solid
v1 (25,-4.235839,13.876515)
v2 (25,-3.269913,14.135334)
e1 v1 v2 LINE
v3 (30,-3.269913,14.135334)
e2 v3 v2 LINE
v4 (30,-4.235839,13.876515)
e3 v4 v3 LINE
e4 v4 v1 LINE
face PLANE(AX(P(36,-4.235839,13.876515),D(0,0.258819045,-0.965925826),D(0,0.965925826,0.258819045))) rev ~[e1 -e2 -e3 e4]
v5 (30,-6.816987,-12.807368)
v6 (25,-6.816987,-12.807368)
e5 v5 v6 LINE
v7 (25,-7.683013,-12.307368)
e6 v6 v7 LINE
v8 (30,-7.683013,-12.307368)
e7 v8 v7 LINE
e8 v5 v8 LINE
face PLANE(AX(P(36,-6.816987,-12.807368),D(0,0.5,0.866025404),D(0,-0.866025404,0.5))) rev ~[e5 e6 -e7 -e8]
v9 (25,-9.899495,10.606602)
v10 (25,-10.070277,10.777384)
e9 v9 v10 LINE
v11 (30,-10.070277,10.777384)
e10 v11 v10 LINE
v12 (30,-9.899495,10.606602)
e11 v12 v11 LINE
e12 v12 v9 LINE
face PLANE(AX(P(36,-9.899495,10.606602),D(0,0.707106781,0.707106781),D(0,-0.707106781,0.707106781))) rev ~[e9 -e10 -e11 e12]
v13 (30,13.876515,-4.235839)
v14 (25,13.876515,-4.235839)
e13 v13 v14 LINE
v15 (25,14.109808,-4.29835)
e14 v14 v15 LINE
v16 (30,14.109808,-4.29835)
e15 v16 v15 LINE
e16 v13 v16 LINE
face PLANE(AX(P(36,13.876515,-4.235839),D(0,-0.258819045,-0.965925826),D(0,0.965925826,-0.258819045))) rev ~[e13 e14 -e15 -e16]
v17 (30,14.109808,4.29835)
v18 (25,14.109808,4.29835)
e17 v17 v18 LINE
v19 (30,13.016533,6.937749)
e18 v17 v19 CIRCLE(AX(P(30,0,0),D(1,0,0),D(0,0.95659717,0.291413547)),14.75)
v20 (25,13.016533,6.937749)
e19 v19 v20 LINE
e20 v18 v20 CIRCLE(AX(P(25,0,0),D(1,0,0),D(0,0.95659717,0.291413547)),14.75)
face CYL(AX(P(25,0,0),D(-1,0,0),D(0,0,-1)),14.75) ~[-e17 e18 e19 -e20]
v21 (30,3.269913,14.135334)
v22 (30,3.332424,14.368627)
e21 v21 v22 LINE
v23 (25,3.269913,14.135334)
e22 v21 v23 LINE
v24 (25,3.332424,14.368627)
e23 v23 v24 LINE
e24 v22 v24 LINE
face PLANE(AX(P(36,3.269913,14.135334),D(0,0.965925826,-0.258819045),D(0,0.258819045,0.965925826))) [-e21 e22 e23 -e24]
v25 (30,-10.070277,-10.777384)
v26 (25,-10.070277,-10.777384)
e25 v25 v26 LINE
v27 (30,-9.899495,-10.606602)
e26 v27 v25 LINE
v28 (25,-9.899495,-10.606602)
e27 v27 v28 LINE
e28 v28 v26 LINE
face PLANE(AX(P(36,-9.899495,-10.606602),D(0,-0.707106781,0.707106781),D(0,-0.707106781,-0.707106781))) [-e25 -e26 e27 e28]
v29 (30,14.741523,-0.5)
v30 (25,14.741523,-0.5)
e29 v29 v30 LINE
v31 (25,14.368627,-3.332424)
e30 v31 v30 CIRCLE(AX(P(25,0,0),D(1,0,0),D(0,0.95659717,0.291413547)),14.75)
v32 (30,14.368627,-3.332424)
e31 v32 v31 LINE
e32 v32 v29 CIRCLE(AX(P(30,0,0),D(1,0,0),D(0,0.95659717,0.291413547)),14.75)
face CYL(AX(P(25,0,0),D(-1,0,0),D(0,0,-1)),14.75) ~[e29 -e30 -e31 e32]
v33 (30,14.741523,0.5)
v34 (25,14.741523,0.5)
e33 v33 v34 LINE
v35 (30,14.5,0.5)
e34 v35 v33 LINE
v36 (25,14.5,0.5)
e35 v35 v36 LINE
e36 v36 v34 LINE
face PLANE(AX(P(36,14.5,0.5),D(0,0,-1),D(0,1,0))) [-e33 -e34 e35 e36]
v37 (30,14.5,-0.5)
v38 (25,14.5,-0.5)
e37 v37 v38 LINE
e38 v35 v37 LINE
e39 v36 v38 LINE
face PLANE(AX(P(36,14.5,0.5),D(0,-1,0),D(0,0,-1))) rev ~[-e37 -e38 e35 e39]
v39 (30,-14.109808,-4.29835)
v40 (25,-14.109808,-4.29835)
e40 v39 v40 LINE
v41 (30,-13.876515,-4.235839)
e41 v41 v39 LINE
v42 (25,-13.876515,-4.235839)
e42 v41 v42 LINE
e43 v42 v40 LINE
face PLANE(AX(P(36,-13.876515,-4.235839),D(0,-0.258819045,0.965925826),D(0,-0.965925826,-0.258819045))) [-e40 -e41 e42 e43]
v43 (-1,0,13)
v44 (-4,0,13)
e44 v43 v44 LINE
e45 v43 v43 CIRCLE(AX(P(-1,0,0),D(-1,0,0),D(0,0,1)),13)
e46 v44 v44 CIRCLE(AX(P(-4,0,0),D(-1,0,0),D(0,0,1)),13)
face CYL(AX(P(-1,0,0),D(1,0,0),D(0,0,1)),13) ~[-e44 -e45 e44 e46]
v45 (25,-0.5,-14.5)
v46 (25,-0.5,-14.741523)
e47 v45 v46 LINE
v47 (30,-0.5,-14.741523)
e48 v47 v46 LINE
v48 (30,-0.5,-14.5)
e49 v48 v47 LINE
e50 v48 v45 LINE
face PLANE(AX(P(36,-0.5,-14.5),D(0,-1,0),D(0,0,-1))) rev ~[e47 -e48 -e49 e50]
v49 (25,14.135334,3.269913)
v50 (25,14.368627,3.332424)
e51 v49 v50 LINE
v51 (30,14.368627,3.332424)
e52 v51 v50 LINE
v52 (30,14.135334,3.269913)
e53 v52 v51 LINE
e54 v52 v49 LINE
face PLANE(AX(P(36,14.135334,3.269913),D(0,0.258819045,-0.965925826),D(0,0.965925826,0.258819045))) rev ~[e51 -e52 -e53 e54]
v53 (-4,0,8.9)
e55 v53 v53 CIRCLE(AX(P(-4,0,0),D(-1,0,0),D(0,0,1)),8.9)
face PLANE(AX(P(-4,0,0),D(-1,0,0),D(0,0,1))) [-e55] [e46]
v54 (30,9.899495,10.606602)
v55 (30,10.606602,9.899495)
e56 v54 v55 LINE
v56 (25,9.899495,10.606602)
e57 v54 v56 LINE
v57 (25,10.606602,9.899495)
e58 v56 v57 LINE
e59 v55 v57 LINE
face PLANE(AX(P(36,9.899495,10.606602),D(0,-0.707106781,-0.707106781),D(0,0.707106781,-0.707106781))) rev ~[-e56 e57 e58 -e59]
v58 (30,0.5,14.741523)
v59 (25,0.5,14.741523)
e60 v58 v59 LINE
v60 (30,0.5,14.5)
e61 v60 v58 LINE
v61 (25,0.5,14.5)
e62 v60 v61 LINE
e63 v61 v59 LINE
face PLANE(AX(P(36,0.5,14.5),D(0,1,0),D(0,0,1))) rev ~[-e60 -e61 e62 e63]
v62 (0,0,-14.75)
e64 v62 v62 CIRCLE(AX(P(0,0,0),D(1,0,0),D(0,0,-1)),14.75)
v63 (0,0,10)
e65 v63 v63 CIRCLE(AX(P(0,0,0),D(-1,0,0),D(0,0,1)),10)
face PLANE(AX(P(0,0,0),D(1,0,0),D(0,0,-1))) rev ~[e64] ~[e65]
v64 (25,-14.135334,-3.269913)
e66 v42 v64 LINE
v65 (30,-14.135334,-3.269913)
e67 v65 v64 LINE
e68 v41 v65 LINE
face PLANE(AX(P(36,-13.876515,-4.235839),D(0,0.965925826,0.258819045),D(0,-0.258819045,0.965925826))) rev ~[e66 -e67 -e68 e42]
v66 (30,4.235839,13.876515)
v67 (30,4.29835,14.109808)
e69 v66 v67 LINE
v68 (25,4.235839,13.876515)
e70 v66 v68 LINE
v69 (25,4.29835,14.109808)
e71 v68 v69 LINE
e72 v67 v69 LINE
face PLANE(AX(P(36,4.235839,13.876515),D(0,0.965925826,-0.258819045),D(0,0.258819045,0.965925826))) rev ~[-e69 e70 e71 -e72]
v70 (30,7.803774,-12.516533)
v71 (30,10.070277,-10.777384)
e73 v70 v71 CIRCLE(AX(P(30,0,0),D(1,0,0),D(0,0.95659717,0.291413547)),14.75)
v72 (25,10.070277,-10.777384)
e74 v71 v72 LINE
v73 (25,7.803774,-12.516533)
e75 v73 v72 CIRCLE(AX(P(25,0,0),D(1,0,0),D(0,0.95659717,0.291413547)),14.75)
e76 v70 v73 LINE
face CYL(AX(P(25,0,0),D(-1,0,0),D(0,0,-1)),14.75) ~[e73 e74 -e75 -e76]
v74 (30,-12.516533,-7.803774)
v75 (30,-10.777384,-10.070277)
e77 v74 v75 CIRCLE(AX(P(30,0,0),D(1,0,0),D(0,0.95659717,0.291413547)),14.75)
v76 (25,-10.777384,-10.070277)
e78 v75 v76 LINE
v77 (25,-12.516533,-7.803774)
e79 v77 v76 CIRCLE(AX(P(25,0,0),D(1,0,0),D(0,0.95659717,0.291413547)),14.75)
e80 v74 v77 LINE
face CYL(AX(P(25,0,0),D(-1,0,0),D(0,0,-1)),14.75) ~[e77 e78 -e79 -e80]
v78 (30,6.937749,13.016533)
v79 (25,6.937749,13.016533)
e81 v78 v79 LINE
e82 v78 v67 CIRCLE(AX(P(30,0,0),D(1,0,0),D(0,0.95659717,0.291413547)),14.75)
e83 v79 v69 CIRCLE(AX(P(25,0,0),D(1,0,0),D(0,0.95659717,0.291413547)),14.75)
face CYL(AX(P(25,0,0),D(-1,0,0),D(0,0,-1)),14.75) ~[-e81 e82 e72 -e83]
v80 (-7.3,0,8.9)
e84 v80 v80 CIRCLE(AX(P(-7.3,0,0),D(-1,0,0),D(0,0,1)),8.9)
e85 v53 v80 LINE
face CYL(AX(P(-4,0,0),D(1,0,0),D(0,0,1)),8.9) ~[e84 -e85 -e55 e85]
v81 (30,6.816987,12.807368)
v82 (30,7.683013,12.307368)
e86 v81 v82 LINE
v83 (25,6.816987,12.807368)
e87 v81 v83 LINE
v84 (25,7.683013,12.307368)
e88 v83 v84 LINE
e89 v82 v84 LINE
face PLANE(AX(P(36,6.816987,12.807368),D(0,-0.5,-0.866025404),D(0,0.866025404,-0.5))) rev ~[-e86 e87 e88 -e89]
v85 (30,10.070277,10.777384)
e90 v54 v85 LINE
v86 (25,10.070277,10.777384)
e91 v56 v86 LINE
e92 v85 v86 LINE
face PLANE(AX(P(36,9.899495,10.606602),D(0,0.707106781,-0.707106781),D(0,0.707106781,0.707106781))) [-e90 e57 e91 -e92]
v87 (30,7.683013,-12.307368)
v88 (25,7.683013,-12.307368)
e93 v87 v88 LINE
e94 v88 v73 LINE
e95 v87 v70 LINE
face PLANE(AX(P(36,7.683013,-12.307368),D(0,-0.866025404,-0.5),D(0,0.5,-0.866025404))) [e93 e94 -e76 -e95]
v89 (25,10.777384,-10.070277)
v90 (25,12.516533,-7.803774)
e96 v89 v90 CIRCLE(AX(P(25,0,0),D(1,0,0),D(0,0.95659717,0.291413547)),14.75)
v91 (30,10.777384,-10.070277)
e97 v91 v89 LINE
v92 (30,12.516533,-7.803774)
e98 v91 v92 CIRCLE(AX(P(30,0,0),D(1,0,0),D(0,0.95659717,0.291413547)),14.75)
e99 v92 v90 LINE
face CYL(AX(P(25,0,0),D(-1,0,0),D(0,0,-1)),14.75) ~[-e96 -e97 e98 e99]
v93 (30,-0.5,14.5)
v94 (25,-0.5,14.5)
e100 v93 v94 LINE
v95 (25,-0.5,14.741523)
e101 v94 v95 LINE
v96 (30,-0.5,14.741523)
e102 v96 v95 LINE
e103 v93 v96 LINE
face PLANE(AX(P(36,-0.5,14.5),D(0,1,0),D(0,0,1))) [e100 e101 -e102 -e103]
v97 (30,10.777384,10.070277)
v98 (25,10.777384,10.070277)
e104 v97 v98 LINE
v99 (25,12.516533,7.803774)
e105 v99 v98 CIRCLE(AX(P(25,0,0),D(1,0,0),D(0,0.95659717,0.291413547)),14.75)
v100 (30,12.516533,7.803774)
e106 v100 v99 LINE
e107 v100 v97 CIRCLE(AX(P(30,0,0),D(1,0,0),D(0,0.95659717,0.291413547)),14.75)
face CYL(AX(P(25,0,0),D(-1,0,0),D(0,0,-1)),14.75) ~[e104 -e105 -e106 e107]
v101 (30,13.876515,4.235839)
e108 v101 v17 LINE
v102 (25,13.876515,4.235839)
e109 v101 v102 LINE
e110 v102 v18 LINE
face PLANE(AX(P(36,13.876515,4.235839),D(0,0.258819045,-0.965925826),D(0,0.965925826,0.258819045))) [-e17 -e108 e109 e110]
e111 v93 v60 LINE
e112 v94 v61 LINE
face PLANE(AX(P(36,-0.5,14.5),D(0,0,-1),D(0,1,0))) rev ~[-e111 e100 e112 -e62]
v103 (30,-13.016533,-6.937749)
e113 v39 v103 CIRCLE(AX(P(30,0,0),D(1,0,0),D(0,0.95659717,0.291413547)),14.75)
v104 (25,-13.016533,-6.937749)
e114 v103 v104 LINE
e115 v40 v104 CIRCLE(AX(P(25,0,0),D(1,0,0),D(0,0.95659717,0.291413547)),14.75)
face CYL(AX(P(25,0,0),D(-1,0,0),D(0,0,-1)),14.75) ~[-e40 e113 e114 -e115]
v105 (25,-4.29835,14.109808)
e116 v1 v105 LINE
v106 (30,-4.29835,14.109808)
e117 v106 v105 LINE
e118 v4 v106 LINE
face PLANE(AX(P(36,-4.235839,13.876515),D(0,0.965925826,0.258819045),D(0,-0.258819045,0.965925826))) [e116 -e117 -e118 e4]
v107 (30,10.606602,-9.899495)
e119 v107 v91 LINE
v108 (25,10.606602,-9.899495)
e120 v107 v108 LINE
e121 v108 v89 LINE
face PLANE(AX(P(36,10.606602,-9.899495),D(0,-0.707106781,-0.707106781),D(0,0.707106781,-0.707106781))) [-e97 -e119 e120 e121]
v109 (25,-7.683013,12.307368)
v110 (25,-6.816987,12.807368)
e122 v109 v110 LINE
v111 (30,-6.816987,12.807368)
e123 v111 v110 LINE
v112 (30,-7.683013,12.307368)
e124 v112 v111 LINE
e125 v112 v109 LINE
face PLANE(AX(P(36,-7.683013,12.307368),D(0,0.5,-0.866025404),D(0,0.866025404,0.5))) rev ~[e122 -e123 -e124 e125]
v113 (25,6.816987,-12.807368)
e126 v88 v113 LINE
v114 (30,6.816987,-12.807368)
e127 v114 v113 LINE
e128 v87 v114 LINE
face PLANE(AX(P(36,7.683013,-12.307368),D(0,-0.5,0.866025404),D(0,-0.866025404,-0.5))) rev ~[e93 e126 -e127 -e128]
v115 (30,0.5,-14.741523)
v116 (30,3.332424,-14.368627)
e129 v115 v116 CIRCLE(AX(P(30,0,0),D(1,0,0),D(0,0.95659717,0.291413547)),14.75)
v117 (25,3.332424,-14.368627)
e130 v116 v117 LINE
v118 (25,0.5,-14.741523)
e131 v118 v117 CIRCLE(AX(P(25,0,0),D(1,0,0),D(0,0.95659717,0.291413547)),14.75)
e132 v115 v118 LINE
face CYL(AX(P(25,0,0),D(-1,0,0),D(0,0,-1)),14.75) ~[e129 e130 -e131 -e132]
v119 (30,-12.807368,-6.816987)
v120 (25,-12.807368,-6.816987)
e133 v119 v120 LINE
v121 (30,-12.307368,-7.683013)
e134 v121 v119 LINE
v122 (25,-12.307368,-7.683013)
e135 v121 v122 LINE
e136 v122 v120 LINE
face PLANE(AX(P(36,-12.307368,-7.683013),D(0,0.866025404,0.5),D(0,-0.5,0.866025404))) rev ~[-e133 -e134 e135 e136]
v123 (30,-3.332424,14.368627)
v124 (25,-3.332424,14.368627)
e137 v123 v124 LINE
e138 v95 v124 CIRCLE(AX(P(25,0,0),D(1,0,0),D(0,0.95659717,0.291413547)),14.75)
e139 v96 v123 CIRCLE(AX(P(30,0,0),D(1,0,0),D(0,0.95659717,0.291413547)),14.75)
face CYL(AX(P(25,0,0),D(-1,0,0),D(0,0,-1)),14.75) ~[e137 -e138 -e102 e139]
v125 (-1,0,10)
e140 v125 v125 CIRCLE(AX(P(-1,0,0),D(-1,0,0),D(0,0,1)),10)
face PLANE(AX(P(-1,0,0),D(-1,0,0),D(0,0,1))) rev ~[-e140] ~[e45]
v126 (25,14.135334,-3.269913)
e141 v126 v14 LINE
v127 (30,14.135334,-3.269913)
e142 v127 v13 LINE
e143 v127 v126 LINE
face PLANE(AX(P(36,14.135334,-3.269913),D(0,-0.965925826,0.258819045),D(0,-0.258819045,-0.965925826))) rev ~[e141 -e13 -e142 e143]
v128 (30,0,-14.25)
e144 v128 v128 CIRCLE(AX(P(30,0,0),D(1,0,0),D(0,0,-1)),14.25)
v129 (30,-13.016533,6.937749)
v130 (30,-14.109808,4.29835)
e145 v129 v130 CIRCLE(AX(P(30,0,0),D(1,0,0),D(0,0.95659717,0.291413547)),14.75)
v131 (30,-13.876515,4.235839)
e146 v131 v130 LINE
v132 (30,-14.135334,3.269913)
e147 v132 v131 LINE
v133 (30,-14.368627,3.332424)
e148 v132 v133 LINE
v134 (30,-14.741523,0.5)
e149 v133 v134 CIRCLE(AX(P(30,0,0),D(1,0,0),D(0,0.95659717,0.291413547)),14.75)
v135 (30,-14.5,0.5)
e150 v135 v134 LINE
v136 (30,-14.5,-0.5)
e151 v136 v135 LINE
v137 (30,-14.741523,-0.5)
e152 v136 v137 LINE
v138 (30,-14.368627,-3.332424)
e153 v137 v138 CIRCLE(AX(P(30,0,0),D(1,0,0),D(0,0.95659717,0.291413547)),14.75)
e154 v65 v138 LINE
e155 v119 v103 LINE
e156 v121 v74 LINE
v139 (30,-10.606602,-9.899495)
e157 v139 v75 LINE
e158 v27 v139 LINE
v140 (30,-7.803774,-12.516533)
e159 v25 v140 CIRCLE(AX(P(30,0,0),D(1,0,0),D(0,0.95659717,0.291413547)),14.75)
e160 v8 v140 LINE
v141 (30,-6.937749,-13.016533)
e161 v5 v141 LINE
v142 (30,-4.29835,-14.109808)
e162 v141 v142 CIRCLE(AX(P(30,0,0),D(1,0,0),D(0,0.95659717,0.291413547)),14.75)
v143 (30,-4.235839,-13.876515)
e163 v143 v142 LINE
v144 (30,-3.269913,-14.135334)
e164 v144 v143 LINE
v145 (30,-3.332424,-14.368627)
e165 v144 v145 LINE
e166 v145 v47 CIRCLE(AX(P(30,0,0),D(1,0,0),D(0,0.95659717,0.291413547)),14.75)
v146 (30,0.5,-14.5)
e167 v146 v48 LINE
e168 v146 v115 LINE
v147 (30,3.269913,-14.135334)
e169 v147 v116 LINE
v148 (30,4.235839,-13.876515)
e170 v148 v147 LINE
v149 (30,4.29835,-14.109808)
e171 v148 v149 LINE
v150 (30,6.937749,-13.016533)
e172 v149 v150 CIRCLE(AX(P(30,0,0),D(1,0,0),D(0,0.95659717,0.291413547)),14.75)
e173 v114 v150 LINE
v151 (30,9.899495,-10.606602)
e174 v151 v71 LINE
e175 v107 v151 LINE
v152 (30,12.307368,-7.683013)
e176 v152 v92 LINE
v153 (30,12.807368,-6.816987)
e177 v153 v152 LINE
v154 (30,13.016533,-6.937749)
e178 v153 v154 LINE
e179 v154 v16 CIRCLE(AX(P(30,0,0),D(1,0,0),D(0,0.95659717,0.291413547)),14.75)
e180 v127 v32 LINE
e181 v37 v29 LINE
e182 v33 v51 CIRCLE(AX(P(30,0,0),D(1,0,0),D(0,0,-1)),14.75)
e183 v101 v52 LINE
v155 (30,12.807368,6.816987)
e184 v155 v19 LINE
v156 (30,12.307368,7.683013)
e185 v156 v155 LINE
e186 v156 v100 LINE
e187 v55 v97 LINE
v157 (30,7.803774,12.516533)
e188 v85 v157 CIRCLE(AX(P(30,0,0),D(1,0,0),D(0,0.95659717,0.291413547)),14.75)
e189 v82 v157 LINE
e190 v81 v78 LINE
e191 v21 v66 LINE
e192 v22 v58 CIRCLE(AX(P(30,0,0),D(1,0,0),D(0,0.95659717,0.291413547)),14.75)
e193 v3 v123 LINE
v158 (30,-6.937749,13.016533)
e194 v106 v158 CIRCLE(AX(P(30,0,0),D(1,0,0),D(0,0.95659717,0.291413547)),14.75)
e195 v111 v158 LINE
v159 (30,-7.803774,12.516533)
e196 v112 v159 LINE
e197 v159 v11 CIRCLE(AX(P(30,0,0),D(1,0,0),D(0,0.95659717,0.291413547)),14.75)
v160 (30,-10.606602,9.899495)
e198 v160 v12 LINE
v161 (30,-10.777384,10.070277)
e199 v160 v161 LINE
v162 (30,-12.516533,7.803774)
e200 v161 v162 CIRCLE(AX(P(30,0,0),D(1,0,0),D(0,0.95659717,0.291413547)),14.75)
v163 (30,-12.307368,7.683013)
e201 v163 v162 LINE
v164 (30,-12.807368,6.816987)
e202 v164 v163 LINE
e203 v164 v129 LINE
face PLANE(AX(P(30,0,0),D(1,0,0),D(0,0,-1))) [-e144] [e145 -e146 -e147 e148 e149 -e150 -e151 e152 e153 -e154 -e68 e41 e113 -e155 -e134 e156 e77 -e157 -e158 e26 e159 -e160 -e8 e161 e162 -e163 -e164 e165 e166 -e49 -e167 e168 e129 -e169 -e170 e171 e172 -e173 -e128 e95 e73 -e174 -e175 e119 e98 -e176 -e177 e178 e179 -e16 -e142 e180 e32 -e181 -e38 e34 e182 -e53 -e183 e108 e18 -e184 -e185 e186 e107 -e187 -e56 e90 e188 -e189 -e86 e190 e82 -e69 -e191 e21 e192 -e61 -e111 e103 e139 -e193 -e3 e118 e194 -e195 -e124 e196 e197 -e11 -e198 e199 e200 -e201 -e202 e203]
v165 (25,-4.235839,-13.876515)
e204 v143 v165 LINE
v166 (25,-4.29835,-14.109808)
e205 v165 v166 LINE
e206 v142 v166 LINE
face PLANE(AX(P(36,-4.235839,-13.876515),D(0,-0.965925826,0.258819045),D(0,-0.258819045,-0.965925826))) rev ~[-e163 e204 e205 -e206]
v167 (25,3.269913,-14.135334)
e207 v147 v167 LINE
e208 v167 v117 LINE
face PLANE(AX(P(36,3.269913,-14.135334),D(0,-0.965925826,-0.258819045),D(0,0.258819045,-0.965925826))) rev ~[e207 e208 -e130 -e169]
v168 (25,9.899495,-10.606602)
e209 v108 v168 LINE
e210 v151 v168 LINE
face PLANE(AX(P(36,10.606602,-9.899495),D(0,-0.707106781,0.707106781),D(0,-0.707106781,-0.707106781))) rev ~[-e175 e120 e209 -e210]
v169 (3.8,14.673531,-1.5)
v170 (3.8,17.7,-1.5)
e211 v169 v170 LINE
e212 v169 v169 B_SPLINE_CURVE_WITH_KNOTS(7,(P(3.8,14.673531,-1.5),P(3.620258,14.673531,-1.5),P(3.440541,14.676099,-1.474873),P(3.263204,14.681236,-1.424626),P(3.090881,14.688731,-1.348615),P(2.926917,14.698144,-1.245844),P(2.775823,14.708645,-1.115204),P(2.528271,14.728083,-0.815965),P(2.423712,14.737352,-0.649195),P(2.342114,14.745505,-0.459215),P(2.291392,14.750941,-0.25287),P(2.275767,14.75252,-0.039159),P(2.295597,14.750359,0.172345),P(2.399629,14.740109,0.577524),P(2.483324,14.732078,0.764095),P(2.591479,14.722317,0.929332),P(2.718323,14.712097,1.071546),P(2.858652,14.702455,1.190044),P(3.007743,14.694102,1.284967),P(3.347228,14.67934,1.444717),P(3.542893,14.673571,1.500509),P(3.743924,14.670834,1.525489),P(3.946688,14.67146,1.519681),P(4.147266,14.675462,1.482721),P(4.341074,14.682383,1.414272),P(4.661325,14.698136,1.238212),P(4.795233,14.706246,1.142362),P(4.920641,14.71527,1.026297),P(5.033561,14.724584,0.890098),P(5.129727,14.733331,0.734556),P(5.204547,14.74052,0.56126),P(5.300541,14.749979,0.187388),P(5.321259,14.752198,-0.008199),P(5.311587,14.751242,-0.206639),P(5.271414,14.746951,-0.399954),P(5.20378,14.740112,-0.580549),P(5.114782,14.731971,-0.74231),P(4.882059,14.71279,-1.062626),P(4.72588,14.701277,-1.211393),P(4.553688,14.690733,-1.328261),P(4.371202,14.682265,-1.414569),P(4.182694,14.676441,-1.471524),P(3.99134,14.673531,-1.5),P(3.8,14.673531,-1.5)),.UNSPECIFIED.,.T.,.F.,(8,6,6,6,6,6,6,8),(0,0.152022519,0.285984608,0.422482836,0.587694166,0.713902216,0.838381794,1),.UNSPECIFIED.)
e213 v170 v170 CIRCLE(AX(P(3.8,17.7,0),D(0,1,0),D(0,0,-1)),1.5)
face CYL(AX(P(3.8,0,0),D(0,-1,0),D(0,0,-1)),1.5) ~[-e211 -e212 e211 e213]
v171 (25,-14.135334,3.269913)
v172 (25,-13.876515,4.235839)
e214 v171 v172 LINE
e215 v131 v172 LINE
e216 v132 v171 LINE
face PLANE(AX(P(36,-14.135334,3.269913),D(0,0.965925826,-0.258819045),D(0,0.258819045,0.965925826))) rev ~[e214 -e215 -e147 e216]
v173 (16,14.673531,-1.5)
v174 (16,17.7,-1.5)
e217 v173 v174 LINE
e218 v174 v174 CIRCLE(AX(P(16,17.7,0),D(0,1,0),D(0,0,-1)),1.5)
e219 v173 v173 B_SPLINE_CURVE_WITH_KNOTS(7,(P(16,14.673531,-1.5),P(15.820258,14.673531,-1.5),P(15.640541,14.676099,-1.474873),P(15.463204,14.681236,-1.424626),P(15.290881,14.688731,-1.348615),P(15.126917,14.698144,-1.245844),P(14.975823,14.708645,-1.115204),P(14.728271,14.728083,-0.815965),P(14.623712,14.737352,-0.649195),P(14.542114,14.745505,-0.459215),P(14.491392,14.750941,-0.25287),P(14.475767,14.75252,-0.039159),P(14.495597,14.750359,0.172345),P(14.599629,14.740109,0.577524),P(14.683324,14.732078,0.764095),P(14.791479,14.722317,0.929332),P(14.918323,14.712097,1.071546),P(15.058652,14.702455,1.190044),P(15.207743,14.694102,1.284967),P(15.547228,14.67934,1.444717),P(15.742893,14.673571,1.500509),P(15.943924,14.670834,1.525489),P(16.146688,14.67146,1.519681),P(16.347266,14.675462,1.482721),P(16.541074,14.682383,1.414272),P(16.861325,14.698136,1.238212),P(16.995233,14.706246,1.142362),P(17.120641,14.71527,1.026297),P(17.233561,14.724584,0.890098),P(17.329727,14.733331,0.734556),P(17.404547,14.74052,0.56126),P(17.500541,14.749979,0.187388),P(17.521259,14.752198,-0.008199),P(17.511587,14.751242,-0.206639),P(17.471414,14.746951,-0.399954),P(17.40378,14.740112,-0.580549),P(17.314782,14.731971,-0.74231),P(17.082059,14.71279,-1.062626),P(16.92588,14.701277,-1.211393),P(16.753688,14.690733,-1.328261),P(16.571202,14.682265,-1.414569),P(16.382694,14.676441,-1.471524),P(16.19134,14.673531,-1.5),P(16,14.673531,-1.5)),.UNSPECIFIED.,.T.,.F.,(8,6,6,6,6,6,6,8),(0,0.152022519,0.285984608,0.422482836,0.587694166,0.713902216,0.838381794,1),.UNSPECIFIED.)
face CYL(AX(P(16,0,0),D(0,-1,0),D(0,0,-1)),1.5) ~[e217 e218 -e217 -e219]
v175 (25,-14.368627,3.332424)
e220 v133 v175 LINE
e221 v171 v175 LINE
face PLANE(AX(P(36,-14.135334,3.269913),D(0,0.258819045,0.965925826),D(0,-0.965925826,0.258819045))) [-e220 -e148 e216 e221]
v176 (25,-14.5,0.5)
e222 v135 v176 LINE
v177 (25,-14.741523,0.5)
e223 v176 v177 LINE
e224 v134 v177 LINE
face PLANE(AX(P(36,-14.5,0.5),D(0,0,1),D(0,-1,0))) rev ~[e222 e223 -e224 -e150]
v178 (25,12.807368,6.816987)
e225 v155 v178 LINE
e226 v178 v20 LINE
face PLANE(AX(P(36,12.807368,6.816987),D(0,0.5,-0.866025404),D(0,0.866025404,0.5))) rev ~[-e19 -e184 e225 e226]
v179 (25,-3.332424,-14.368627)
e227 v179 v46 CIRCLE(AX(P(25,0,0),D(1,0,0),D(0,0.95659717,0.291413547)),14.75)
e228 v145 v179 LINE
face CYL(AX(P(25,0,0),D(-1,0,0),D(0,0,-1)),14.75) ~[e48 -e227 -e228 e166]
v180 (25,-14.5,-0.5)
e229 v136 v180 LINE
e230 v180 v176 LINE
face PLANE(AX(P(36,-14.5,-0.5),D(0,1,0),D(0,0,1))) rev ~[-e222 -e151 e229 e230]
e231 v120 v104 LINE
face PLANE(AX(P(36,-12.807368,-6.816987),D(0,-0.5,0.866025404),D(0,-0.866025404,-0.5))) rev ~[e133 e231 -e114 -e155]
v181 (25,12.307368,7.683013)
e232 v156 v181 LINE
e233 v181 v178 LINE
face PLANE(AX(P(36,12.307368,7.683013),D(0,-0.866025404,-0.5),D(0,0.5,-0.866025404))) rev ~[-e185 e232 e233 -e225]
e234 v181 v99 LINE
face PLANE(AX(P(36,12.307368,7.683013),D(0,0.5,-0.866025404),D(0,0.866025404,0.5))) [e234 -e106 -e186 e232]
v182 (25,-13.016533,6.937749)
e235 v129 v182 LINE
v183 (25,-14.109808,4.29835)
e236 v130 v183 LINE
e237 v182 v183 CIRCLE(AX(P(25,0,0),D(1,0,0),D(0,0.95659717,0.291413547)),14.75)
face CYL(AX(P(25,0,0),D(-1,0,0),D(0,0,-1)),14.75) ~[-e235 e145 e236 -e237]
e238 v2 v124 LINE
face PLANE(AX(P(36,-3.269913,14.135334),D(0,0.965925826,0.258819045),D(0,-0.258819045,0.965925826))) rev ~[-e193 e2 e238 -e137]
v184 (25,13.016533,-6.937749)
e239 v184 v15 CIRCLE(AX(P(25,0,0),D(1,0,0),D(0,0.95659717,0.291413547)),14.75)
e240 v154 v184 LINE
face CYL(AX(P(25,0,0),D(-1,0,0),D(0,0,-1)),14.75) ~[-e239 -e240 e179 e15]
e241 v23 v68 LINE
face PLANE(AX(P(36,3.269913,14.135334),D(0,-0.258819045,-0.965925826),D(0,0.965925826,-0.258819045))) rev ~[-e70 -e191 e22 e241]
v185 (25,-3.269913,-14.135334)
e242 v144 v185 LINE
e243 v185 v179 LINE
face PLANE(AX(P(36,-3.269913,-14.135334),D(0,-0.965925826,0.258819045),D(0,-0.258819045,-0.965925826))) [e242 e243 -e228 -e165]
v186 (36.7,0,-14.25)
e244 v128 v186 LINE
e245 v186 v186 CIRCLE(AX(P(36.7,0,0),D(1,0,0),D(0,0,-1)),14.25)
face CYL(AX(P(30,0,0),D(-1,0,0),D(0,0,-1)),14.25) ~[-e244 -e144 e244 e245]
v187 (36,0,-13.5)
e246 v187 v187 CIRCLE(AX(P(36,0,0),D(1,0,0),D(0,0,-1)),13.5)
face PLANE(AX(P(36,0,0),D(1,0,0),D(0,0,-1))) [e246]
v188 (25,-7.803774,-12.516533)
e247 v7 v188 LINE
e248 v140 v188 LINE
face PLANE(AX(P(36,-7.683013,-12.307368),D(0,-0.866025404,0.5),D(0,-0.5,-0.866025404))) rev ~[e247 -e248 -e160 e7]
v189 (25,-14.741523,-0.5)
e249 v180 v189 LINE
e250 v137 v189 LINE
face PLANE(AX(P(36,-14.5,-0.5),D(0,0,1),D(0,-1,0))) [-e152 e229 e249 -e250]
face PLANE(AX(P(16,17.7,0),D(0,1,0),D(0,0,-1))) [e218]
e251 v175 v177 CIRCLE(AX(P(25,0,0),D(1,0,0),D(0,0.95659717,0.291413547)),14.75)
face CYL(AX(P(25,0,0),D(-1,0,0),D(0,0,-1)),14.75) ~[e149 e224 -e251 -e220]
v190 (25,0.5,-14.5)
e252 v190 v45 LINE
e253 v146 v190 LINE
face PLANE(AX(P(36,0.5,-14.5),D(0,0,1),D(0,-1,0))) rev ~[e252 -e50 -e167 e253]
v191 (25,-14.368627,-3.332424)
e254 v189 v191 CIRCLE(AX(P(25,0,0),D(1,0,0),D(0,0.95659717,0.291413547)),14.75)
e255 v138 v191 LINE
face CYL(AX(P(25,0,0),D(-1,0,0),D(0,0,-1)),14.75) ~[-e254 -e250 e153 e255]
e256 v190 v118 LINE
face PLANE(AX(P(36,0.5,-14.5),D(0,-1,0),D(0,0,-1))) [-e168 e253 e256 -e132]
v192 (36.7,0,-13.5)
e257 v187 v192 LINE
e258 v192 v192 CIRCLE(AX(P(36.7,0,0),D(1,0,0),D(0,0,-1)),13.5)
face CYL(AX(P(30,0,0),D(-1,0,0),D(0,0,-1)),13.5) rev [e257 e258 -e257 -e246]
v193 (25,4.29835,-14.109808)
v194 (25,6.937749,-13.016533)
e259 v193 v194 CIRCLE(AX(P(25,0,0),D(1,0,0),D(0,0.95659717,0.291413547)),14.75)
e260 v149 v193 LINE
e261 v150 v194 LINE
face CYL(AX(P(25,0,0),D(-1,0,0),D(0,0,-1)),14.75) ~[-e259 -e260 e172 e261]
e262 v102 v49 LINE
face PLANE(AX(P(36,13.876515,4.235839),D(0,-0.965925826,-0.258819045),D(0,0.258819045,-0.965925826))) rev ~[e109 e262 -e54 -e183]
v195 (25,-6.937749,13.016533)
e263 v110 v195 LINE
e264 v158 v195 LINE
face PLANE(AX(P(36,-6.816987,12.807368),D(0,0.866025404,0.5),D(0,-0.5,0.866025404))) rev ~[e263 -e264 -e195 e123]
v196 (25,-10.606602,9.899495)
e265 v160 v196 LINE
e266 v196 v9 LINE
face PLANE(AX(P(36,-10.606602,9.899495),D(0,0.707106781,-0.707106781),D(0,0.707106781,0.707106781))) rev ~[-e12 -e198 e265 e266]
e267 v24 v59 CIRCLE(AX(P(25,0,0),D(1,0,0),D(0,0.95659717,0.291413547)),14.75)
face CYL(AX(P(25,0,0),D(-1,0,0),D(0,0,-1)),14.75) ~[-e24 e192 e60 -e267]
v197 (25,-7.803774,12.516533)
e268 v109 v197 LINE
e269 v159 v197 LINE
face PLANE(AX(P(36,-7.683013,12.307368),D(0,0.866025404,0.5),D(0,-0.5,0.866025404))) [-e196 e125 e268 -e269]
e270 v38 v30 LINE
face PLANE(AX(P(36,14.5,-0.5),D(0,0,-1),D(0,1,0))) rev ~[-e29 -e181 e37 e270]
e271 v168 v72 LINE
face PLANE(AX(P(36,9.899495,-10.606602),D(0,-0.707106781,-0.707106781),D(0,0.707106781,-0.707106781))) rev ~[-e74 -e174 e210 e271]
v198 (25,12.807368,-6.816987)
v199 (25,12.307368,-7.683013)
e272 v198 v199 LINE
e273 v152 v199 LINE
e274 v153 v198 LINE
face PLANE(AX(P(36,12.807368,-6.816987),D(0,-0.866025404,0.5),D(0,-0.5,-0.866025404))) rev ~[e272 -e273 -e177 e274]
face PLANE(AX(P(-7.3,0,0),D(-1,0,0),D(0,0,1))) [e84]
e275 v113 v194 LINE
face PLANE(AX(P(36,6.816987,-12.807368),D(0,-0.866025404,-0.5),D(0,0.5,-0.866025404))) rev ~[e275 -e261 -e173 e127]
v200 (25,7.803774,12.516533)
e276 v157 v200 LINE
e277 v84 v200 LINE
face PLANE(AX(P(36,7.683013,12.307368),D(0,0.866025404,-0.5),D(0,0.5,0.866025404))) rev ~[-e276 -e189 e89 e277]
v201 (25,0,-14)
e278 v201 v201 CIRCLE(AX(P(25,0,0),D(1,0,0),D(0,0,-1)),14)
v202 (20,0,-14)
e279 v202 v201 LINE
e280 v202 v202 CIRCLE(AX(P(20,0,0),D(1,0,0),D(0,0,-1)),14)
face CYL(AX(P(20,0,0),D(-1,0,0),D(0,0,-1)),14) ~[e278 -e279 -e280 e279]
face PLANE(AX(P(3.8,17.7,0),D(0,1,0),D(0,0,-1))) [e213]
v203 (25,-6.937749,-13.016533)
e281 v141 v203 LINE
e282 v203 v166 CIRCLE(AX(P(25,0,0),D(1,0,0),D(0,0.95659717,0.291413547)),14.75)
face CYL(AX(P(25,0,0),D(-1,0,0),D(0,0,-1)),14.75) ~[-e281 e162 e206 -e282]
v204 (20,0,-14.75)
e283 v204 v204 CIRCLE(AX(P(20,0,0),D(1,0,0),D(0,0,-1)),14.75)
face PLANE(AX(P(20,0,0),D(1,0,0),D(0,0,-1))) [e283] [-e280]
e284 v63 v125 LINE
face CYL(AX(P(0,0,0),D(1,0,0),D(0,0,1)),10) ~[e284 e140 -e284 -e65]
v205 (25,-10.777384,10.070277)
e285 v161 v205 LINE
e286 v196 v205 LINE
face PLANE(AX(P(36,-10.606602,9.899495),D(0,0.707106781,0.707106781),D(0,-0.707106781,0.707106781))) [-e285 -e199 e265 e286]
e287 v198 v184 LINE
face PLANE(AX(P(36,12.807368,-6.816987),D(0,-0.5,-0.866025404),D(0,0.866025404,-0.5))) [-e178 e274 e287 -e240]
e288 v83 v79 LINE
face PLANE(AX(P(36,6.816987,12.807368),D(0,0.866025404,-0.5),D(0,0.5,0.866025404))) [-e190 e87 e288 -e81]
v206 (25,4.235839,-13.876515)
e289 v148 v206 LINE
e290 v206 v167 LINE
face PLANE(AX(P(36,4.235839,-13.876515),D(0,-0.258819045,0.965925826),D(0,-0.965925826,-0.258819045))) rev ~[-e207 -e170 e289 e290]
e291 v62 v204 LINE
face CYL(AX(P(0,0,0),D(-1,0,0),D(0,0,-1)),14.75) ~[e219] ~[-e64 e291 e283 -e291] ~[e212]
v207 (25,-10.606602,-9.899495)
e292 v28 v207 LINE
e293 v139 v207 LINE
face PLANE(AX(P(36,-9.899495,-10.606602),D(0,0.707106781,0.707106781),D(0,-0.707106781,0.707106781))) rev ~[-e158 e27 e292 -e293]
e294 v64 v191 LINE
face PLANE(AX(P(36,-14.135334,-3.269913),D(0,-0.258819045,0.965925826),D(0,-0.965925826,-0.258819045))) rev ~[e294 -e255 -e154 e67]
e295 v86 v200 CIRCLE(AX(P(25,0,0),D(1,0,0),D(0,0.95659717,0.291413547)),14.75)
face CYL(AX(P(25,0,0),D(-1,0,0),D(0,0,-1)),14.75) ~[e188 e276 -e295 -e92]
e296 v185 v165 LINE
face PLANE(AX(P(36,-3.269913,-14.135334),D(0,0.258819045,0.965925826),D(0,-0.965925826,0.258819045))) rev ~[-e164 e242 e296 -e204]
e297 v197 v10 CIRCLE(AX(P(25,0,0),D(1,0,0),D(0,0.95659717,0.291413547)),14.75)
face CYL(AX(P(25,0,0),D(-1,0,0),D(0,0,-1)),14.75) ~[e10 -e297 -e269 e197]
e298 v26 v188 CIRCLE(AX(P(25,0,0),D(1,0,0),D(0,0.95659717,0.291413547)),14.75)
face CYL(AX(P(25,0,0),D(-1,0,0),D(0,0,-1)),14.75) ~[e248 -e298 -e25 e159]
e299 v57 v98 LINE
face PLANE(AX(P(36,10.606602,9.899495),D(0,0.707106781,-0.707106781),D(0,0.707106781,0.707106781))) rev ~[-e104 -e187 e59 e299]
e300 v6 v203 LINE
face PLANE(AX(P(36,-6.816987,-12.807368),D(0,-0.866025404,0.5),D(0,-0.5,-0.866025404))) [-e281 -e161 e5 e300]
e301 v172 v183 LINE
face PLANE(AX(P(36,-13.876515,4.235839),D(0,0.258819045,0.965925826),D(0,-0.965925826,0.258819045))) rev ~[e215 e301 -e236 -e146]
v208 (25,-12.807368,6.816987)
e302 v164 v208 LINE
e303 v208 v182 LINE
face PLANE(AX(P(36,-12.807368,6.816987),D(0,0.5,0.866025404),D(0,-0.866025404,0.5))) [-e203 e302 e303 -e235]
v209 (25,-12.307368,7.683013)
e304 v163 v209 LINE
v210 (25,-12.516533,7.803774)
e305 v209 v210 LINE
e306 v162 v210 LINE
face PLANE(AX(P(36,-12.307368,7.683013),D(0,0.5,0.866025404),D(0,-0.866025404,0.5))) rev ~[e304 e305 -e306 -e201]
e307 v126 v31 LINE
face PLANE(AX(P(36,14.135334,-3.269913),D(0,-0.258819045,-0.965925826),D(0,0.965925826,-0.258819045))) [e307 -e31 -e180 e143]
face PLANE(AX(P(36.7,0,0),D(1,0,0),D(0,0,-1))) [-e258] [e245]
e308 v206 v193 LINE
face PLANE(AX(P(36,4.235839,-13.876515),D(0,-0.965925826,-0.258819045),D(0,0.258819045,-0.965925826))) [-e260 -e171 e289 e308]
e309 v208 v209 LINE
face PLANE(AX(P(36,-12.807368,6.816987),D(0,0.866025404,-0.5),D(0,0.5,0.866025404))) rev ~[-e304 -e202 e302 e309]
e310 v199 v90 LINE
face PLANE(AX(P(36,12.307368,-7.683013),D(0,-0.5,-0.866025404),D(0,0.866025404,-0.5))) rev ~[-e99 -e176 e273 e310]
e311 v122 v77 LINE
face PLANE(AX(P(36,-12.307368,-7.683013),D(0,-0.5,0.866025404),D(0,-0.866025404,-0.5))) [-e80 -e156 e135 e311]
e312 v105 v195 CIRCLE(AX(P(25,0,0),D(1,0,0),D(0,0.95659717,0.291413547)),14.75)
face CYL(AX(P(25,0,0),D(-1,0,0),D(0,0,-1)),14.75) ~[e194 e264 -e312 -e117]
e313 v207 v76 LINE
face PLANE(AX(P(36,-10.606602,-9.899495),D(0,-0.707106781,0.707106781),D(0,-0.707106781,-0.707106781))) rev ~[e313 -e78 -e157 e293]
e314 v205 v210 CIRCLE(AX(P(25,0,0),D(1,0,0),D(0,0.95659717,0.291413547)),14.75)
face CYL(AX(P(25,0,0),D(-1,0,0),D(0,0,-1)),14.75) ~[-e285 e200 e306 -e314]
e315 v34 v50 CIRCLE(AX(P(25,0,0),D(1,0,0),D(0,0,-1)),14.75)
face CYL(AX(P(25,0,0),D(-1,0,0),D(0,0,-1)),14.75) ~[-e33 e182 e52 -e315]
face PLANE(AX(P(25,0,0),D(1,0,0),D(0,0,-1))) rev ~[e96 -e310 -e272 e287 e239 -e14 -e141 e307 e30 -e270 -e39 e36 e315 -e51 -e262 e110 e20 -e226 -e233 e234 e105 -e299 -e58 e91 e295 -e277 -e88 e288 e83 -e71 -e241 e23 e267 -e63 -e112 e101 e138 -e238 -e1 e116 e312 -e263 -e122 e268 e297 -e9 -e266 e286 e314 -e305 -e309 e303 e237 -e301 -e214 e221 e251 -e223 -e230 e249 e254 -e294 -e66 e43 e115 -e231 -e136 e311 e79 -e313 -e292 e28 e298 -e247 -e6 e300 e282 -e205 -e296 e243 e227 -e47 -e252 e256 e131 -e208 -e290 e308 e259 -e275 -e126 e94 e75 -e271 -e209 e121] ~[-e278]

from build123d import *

# Parameters (mm, degrees)
SKETCH_1_R               = 14.75
EXTRUDE_1_DEPTH          = 20
SKETCH_2_R               = 14
EXTRUDE_2_DEPTH          = 5
SKETCH_3_R               = 14.75
EXTRUDE_3_DEPTH          = 5
SKETCH_4_R               = 14.25
SKETCH_4_R_2             = 13.5
EXTRUDE_4_DEPTH          = 6.7
SKETCH_5_R               = 13.5
EXTRUDE_5_DEPTH          = 6
SKETCH_6_W               = 1
SKETCH_6_H               = 10.048644724
CUT_EXTRUDE_1_DEPTH      = 15
PATTERN_CIRCULAR_1_COUNT = 24
SKETCH_7_R               = 1.5
EXTRUDE_6_DEPTH          = 17.7
SKETCH_8_R               = 10
EXTRUDE_7_DEPTH          = 1
SKETCH_9_R               = 13
EXTRUDE_8_DEPTH          = 3
SKETCH_10_R              = 8.9
EXTRUDE_9_DEPTH          = 3.3


with BuildPart() as part:
    # 草图1 → 凸台-拉伸1 (new body)
    with BuildSketch(Plane(origin=(0, 0, 0), x_dir=(0, 0, -1), z_dir=(1, 0, 0))):
        Circle(SKETCH_1_R)
    extrude(amount=EXTRUDE_1_DEPTH)

    # 草图2 → 凸台-拉伸2 (add)
    with BuildSketch(Plane(origin=(20, 0, 0), x_dir=(0, 0, -1), z_dir=(1, 0, 0))):
        Circle(SKETCH_2_R)
    extrude(amount=EXTRUDE_2_DEPTH)

    # 草图3 → 凸台-拉伸3 (add)
    with BuildSketch(Plane(origin=(25, 0, 0), x_dir=(0, 0, -1), z_dir=(1, 0, 0))):
        Circle(SKETCH_3_R)
    extrude(amount=EXTRUDE_3_DEPTH)

    # 草图4 → 凸台-拉伸4 (add)
    with BuildSketch(Plane(origin=(30, 0, 0), x_dir=(0, 0, -1), z_dir=(1, 0, 0))):
        Circle(SKETCH_4_R)
        Circle(SKETCH_4_R_2, mode=Mode.SUBTRACT)
    extrude(amount=EXTRUDE_4_DEPTH)

    # 草图5 → 凸台-拉伸5 (add)
    with BuildSketch(Plane(origin=(30, 0, 0), x_dir=(0, 0, -1), z_dir=(1, 0, 0))):
        Circle(SKETCH_5_R)
    extrude(amount=EXTRUDE_5_DEPTH)

    # 草图6 → 切除-拉伸1 (cut)
    with BuildSketch(Plane(origin=(36, 0, 0), x_dir=(0, 0, -1), z_dir=(1, 0, 0))):
        with Locations((0, 19.524322362)):
            Rectangle(SKETCH_6_W, SKETCH_6_H)
    cut_extrude_1 = extrude(amount=-CUT_EXTRUDE_1_DEPTH, mode=Mode.SUBTRACT)

    # 阵列(圆周)1: 切除-拉伸1 ×24 about axis
    pattern_circular_1_axis = Axis((0, 0, 0), (1, 0, 0))
    for i in range(1, PATTERN_CIRCULAR_1_COUNT):
        add(cut_extrude_1.rotate(pattern_circular_1_axis, i * 360 / PATTERN_CIRCULAR_1_COUNT), mode=Mode.SUBTRACT)

    # 草图7 → 凸台-拉伸6 (add)
    with BuildSketch(Plane(origin=(0, 0, 0), x_dir=(1, 0, 0), z_dir=(0, 1, 0))):
        with Locations(Location((3.8, 0, 0), (0, 0, 90))):
            Circle(SKETCH_7_R)
        with Locations(Location((16, 0, 0), (0, 0, 90))):
            Circle(SKETCH_7_R)
    extrude(amount=EXTRUDE_6_DEPTH)

    # 草图8 → 凸台-拉伸7 (add)
    with BuildSketch(Plane.ZY):
        Circle(SKETCH_8_R)
    extrude(amount=EXTRUDE_7_DEPTH)

    # 草图9 → 凸台-拉伸8 (add)
    with BuildSketch(Plane.ZY.offset(1)):
        Circle(SKETCH_9_R)
    extrude(amount=EXTRUDE_8_DEPTH)

    # 草图10 → 凸台-拉伸9 (add)
    with BuildSketch(Plane.ZY.offset(4)):
        Circle(SKETCH_10_R)
    extrude(amount=EXTRUDE_9_DEPTH)


solid = part.part
